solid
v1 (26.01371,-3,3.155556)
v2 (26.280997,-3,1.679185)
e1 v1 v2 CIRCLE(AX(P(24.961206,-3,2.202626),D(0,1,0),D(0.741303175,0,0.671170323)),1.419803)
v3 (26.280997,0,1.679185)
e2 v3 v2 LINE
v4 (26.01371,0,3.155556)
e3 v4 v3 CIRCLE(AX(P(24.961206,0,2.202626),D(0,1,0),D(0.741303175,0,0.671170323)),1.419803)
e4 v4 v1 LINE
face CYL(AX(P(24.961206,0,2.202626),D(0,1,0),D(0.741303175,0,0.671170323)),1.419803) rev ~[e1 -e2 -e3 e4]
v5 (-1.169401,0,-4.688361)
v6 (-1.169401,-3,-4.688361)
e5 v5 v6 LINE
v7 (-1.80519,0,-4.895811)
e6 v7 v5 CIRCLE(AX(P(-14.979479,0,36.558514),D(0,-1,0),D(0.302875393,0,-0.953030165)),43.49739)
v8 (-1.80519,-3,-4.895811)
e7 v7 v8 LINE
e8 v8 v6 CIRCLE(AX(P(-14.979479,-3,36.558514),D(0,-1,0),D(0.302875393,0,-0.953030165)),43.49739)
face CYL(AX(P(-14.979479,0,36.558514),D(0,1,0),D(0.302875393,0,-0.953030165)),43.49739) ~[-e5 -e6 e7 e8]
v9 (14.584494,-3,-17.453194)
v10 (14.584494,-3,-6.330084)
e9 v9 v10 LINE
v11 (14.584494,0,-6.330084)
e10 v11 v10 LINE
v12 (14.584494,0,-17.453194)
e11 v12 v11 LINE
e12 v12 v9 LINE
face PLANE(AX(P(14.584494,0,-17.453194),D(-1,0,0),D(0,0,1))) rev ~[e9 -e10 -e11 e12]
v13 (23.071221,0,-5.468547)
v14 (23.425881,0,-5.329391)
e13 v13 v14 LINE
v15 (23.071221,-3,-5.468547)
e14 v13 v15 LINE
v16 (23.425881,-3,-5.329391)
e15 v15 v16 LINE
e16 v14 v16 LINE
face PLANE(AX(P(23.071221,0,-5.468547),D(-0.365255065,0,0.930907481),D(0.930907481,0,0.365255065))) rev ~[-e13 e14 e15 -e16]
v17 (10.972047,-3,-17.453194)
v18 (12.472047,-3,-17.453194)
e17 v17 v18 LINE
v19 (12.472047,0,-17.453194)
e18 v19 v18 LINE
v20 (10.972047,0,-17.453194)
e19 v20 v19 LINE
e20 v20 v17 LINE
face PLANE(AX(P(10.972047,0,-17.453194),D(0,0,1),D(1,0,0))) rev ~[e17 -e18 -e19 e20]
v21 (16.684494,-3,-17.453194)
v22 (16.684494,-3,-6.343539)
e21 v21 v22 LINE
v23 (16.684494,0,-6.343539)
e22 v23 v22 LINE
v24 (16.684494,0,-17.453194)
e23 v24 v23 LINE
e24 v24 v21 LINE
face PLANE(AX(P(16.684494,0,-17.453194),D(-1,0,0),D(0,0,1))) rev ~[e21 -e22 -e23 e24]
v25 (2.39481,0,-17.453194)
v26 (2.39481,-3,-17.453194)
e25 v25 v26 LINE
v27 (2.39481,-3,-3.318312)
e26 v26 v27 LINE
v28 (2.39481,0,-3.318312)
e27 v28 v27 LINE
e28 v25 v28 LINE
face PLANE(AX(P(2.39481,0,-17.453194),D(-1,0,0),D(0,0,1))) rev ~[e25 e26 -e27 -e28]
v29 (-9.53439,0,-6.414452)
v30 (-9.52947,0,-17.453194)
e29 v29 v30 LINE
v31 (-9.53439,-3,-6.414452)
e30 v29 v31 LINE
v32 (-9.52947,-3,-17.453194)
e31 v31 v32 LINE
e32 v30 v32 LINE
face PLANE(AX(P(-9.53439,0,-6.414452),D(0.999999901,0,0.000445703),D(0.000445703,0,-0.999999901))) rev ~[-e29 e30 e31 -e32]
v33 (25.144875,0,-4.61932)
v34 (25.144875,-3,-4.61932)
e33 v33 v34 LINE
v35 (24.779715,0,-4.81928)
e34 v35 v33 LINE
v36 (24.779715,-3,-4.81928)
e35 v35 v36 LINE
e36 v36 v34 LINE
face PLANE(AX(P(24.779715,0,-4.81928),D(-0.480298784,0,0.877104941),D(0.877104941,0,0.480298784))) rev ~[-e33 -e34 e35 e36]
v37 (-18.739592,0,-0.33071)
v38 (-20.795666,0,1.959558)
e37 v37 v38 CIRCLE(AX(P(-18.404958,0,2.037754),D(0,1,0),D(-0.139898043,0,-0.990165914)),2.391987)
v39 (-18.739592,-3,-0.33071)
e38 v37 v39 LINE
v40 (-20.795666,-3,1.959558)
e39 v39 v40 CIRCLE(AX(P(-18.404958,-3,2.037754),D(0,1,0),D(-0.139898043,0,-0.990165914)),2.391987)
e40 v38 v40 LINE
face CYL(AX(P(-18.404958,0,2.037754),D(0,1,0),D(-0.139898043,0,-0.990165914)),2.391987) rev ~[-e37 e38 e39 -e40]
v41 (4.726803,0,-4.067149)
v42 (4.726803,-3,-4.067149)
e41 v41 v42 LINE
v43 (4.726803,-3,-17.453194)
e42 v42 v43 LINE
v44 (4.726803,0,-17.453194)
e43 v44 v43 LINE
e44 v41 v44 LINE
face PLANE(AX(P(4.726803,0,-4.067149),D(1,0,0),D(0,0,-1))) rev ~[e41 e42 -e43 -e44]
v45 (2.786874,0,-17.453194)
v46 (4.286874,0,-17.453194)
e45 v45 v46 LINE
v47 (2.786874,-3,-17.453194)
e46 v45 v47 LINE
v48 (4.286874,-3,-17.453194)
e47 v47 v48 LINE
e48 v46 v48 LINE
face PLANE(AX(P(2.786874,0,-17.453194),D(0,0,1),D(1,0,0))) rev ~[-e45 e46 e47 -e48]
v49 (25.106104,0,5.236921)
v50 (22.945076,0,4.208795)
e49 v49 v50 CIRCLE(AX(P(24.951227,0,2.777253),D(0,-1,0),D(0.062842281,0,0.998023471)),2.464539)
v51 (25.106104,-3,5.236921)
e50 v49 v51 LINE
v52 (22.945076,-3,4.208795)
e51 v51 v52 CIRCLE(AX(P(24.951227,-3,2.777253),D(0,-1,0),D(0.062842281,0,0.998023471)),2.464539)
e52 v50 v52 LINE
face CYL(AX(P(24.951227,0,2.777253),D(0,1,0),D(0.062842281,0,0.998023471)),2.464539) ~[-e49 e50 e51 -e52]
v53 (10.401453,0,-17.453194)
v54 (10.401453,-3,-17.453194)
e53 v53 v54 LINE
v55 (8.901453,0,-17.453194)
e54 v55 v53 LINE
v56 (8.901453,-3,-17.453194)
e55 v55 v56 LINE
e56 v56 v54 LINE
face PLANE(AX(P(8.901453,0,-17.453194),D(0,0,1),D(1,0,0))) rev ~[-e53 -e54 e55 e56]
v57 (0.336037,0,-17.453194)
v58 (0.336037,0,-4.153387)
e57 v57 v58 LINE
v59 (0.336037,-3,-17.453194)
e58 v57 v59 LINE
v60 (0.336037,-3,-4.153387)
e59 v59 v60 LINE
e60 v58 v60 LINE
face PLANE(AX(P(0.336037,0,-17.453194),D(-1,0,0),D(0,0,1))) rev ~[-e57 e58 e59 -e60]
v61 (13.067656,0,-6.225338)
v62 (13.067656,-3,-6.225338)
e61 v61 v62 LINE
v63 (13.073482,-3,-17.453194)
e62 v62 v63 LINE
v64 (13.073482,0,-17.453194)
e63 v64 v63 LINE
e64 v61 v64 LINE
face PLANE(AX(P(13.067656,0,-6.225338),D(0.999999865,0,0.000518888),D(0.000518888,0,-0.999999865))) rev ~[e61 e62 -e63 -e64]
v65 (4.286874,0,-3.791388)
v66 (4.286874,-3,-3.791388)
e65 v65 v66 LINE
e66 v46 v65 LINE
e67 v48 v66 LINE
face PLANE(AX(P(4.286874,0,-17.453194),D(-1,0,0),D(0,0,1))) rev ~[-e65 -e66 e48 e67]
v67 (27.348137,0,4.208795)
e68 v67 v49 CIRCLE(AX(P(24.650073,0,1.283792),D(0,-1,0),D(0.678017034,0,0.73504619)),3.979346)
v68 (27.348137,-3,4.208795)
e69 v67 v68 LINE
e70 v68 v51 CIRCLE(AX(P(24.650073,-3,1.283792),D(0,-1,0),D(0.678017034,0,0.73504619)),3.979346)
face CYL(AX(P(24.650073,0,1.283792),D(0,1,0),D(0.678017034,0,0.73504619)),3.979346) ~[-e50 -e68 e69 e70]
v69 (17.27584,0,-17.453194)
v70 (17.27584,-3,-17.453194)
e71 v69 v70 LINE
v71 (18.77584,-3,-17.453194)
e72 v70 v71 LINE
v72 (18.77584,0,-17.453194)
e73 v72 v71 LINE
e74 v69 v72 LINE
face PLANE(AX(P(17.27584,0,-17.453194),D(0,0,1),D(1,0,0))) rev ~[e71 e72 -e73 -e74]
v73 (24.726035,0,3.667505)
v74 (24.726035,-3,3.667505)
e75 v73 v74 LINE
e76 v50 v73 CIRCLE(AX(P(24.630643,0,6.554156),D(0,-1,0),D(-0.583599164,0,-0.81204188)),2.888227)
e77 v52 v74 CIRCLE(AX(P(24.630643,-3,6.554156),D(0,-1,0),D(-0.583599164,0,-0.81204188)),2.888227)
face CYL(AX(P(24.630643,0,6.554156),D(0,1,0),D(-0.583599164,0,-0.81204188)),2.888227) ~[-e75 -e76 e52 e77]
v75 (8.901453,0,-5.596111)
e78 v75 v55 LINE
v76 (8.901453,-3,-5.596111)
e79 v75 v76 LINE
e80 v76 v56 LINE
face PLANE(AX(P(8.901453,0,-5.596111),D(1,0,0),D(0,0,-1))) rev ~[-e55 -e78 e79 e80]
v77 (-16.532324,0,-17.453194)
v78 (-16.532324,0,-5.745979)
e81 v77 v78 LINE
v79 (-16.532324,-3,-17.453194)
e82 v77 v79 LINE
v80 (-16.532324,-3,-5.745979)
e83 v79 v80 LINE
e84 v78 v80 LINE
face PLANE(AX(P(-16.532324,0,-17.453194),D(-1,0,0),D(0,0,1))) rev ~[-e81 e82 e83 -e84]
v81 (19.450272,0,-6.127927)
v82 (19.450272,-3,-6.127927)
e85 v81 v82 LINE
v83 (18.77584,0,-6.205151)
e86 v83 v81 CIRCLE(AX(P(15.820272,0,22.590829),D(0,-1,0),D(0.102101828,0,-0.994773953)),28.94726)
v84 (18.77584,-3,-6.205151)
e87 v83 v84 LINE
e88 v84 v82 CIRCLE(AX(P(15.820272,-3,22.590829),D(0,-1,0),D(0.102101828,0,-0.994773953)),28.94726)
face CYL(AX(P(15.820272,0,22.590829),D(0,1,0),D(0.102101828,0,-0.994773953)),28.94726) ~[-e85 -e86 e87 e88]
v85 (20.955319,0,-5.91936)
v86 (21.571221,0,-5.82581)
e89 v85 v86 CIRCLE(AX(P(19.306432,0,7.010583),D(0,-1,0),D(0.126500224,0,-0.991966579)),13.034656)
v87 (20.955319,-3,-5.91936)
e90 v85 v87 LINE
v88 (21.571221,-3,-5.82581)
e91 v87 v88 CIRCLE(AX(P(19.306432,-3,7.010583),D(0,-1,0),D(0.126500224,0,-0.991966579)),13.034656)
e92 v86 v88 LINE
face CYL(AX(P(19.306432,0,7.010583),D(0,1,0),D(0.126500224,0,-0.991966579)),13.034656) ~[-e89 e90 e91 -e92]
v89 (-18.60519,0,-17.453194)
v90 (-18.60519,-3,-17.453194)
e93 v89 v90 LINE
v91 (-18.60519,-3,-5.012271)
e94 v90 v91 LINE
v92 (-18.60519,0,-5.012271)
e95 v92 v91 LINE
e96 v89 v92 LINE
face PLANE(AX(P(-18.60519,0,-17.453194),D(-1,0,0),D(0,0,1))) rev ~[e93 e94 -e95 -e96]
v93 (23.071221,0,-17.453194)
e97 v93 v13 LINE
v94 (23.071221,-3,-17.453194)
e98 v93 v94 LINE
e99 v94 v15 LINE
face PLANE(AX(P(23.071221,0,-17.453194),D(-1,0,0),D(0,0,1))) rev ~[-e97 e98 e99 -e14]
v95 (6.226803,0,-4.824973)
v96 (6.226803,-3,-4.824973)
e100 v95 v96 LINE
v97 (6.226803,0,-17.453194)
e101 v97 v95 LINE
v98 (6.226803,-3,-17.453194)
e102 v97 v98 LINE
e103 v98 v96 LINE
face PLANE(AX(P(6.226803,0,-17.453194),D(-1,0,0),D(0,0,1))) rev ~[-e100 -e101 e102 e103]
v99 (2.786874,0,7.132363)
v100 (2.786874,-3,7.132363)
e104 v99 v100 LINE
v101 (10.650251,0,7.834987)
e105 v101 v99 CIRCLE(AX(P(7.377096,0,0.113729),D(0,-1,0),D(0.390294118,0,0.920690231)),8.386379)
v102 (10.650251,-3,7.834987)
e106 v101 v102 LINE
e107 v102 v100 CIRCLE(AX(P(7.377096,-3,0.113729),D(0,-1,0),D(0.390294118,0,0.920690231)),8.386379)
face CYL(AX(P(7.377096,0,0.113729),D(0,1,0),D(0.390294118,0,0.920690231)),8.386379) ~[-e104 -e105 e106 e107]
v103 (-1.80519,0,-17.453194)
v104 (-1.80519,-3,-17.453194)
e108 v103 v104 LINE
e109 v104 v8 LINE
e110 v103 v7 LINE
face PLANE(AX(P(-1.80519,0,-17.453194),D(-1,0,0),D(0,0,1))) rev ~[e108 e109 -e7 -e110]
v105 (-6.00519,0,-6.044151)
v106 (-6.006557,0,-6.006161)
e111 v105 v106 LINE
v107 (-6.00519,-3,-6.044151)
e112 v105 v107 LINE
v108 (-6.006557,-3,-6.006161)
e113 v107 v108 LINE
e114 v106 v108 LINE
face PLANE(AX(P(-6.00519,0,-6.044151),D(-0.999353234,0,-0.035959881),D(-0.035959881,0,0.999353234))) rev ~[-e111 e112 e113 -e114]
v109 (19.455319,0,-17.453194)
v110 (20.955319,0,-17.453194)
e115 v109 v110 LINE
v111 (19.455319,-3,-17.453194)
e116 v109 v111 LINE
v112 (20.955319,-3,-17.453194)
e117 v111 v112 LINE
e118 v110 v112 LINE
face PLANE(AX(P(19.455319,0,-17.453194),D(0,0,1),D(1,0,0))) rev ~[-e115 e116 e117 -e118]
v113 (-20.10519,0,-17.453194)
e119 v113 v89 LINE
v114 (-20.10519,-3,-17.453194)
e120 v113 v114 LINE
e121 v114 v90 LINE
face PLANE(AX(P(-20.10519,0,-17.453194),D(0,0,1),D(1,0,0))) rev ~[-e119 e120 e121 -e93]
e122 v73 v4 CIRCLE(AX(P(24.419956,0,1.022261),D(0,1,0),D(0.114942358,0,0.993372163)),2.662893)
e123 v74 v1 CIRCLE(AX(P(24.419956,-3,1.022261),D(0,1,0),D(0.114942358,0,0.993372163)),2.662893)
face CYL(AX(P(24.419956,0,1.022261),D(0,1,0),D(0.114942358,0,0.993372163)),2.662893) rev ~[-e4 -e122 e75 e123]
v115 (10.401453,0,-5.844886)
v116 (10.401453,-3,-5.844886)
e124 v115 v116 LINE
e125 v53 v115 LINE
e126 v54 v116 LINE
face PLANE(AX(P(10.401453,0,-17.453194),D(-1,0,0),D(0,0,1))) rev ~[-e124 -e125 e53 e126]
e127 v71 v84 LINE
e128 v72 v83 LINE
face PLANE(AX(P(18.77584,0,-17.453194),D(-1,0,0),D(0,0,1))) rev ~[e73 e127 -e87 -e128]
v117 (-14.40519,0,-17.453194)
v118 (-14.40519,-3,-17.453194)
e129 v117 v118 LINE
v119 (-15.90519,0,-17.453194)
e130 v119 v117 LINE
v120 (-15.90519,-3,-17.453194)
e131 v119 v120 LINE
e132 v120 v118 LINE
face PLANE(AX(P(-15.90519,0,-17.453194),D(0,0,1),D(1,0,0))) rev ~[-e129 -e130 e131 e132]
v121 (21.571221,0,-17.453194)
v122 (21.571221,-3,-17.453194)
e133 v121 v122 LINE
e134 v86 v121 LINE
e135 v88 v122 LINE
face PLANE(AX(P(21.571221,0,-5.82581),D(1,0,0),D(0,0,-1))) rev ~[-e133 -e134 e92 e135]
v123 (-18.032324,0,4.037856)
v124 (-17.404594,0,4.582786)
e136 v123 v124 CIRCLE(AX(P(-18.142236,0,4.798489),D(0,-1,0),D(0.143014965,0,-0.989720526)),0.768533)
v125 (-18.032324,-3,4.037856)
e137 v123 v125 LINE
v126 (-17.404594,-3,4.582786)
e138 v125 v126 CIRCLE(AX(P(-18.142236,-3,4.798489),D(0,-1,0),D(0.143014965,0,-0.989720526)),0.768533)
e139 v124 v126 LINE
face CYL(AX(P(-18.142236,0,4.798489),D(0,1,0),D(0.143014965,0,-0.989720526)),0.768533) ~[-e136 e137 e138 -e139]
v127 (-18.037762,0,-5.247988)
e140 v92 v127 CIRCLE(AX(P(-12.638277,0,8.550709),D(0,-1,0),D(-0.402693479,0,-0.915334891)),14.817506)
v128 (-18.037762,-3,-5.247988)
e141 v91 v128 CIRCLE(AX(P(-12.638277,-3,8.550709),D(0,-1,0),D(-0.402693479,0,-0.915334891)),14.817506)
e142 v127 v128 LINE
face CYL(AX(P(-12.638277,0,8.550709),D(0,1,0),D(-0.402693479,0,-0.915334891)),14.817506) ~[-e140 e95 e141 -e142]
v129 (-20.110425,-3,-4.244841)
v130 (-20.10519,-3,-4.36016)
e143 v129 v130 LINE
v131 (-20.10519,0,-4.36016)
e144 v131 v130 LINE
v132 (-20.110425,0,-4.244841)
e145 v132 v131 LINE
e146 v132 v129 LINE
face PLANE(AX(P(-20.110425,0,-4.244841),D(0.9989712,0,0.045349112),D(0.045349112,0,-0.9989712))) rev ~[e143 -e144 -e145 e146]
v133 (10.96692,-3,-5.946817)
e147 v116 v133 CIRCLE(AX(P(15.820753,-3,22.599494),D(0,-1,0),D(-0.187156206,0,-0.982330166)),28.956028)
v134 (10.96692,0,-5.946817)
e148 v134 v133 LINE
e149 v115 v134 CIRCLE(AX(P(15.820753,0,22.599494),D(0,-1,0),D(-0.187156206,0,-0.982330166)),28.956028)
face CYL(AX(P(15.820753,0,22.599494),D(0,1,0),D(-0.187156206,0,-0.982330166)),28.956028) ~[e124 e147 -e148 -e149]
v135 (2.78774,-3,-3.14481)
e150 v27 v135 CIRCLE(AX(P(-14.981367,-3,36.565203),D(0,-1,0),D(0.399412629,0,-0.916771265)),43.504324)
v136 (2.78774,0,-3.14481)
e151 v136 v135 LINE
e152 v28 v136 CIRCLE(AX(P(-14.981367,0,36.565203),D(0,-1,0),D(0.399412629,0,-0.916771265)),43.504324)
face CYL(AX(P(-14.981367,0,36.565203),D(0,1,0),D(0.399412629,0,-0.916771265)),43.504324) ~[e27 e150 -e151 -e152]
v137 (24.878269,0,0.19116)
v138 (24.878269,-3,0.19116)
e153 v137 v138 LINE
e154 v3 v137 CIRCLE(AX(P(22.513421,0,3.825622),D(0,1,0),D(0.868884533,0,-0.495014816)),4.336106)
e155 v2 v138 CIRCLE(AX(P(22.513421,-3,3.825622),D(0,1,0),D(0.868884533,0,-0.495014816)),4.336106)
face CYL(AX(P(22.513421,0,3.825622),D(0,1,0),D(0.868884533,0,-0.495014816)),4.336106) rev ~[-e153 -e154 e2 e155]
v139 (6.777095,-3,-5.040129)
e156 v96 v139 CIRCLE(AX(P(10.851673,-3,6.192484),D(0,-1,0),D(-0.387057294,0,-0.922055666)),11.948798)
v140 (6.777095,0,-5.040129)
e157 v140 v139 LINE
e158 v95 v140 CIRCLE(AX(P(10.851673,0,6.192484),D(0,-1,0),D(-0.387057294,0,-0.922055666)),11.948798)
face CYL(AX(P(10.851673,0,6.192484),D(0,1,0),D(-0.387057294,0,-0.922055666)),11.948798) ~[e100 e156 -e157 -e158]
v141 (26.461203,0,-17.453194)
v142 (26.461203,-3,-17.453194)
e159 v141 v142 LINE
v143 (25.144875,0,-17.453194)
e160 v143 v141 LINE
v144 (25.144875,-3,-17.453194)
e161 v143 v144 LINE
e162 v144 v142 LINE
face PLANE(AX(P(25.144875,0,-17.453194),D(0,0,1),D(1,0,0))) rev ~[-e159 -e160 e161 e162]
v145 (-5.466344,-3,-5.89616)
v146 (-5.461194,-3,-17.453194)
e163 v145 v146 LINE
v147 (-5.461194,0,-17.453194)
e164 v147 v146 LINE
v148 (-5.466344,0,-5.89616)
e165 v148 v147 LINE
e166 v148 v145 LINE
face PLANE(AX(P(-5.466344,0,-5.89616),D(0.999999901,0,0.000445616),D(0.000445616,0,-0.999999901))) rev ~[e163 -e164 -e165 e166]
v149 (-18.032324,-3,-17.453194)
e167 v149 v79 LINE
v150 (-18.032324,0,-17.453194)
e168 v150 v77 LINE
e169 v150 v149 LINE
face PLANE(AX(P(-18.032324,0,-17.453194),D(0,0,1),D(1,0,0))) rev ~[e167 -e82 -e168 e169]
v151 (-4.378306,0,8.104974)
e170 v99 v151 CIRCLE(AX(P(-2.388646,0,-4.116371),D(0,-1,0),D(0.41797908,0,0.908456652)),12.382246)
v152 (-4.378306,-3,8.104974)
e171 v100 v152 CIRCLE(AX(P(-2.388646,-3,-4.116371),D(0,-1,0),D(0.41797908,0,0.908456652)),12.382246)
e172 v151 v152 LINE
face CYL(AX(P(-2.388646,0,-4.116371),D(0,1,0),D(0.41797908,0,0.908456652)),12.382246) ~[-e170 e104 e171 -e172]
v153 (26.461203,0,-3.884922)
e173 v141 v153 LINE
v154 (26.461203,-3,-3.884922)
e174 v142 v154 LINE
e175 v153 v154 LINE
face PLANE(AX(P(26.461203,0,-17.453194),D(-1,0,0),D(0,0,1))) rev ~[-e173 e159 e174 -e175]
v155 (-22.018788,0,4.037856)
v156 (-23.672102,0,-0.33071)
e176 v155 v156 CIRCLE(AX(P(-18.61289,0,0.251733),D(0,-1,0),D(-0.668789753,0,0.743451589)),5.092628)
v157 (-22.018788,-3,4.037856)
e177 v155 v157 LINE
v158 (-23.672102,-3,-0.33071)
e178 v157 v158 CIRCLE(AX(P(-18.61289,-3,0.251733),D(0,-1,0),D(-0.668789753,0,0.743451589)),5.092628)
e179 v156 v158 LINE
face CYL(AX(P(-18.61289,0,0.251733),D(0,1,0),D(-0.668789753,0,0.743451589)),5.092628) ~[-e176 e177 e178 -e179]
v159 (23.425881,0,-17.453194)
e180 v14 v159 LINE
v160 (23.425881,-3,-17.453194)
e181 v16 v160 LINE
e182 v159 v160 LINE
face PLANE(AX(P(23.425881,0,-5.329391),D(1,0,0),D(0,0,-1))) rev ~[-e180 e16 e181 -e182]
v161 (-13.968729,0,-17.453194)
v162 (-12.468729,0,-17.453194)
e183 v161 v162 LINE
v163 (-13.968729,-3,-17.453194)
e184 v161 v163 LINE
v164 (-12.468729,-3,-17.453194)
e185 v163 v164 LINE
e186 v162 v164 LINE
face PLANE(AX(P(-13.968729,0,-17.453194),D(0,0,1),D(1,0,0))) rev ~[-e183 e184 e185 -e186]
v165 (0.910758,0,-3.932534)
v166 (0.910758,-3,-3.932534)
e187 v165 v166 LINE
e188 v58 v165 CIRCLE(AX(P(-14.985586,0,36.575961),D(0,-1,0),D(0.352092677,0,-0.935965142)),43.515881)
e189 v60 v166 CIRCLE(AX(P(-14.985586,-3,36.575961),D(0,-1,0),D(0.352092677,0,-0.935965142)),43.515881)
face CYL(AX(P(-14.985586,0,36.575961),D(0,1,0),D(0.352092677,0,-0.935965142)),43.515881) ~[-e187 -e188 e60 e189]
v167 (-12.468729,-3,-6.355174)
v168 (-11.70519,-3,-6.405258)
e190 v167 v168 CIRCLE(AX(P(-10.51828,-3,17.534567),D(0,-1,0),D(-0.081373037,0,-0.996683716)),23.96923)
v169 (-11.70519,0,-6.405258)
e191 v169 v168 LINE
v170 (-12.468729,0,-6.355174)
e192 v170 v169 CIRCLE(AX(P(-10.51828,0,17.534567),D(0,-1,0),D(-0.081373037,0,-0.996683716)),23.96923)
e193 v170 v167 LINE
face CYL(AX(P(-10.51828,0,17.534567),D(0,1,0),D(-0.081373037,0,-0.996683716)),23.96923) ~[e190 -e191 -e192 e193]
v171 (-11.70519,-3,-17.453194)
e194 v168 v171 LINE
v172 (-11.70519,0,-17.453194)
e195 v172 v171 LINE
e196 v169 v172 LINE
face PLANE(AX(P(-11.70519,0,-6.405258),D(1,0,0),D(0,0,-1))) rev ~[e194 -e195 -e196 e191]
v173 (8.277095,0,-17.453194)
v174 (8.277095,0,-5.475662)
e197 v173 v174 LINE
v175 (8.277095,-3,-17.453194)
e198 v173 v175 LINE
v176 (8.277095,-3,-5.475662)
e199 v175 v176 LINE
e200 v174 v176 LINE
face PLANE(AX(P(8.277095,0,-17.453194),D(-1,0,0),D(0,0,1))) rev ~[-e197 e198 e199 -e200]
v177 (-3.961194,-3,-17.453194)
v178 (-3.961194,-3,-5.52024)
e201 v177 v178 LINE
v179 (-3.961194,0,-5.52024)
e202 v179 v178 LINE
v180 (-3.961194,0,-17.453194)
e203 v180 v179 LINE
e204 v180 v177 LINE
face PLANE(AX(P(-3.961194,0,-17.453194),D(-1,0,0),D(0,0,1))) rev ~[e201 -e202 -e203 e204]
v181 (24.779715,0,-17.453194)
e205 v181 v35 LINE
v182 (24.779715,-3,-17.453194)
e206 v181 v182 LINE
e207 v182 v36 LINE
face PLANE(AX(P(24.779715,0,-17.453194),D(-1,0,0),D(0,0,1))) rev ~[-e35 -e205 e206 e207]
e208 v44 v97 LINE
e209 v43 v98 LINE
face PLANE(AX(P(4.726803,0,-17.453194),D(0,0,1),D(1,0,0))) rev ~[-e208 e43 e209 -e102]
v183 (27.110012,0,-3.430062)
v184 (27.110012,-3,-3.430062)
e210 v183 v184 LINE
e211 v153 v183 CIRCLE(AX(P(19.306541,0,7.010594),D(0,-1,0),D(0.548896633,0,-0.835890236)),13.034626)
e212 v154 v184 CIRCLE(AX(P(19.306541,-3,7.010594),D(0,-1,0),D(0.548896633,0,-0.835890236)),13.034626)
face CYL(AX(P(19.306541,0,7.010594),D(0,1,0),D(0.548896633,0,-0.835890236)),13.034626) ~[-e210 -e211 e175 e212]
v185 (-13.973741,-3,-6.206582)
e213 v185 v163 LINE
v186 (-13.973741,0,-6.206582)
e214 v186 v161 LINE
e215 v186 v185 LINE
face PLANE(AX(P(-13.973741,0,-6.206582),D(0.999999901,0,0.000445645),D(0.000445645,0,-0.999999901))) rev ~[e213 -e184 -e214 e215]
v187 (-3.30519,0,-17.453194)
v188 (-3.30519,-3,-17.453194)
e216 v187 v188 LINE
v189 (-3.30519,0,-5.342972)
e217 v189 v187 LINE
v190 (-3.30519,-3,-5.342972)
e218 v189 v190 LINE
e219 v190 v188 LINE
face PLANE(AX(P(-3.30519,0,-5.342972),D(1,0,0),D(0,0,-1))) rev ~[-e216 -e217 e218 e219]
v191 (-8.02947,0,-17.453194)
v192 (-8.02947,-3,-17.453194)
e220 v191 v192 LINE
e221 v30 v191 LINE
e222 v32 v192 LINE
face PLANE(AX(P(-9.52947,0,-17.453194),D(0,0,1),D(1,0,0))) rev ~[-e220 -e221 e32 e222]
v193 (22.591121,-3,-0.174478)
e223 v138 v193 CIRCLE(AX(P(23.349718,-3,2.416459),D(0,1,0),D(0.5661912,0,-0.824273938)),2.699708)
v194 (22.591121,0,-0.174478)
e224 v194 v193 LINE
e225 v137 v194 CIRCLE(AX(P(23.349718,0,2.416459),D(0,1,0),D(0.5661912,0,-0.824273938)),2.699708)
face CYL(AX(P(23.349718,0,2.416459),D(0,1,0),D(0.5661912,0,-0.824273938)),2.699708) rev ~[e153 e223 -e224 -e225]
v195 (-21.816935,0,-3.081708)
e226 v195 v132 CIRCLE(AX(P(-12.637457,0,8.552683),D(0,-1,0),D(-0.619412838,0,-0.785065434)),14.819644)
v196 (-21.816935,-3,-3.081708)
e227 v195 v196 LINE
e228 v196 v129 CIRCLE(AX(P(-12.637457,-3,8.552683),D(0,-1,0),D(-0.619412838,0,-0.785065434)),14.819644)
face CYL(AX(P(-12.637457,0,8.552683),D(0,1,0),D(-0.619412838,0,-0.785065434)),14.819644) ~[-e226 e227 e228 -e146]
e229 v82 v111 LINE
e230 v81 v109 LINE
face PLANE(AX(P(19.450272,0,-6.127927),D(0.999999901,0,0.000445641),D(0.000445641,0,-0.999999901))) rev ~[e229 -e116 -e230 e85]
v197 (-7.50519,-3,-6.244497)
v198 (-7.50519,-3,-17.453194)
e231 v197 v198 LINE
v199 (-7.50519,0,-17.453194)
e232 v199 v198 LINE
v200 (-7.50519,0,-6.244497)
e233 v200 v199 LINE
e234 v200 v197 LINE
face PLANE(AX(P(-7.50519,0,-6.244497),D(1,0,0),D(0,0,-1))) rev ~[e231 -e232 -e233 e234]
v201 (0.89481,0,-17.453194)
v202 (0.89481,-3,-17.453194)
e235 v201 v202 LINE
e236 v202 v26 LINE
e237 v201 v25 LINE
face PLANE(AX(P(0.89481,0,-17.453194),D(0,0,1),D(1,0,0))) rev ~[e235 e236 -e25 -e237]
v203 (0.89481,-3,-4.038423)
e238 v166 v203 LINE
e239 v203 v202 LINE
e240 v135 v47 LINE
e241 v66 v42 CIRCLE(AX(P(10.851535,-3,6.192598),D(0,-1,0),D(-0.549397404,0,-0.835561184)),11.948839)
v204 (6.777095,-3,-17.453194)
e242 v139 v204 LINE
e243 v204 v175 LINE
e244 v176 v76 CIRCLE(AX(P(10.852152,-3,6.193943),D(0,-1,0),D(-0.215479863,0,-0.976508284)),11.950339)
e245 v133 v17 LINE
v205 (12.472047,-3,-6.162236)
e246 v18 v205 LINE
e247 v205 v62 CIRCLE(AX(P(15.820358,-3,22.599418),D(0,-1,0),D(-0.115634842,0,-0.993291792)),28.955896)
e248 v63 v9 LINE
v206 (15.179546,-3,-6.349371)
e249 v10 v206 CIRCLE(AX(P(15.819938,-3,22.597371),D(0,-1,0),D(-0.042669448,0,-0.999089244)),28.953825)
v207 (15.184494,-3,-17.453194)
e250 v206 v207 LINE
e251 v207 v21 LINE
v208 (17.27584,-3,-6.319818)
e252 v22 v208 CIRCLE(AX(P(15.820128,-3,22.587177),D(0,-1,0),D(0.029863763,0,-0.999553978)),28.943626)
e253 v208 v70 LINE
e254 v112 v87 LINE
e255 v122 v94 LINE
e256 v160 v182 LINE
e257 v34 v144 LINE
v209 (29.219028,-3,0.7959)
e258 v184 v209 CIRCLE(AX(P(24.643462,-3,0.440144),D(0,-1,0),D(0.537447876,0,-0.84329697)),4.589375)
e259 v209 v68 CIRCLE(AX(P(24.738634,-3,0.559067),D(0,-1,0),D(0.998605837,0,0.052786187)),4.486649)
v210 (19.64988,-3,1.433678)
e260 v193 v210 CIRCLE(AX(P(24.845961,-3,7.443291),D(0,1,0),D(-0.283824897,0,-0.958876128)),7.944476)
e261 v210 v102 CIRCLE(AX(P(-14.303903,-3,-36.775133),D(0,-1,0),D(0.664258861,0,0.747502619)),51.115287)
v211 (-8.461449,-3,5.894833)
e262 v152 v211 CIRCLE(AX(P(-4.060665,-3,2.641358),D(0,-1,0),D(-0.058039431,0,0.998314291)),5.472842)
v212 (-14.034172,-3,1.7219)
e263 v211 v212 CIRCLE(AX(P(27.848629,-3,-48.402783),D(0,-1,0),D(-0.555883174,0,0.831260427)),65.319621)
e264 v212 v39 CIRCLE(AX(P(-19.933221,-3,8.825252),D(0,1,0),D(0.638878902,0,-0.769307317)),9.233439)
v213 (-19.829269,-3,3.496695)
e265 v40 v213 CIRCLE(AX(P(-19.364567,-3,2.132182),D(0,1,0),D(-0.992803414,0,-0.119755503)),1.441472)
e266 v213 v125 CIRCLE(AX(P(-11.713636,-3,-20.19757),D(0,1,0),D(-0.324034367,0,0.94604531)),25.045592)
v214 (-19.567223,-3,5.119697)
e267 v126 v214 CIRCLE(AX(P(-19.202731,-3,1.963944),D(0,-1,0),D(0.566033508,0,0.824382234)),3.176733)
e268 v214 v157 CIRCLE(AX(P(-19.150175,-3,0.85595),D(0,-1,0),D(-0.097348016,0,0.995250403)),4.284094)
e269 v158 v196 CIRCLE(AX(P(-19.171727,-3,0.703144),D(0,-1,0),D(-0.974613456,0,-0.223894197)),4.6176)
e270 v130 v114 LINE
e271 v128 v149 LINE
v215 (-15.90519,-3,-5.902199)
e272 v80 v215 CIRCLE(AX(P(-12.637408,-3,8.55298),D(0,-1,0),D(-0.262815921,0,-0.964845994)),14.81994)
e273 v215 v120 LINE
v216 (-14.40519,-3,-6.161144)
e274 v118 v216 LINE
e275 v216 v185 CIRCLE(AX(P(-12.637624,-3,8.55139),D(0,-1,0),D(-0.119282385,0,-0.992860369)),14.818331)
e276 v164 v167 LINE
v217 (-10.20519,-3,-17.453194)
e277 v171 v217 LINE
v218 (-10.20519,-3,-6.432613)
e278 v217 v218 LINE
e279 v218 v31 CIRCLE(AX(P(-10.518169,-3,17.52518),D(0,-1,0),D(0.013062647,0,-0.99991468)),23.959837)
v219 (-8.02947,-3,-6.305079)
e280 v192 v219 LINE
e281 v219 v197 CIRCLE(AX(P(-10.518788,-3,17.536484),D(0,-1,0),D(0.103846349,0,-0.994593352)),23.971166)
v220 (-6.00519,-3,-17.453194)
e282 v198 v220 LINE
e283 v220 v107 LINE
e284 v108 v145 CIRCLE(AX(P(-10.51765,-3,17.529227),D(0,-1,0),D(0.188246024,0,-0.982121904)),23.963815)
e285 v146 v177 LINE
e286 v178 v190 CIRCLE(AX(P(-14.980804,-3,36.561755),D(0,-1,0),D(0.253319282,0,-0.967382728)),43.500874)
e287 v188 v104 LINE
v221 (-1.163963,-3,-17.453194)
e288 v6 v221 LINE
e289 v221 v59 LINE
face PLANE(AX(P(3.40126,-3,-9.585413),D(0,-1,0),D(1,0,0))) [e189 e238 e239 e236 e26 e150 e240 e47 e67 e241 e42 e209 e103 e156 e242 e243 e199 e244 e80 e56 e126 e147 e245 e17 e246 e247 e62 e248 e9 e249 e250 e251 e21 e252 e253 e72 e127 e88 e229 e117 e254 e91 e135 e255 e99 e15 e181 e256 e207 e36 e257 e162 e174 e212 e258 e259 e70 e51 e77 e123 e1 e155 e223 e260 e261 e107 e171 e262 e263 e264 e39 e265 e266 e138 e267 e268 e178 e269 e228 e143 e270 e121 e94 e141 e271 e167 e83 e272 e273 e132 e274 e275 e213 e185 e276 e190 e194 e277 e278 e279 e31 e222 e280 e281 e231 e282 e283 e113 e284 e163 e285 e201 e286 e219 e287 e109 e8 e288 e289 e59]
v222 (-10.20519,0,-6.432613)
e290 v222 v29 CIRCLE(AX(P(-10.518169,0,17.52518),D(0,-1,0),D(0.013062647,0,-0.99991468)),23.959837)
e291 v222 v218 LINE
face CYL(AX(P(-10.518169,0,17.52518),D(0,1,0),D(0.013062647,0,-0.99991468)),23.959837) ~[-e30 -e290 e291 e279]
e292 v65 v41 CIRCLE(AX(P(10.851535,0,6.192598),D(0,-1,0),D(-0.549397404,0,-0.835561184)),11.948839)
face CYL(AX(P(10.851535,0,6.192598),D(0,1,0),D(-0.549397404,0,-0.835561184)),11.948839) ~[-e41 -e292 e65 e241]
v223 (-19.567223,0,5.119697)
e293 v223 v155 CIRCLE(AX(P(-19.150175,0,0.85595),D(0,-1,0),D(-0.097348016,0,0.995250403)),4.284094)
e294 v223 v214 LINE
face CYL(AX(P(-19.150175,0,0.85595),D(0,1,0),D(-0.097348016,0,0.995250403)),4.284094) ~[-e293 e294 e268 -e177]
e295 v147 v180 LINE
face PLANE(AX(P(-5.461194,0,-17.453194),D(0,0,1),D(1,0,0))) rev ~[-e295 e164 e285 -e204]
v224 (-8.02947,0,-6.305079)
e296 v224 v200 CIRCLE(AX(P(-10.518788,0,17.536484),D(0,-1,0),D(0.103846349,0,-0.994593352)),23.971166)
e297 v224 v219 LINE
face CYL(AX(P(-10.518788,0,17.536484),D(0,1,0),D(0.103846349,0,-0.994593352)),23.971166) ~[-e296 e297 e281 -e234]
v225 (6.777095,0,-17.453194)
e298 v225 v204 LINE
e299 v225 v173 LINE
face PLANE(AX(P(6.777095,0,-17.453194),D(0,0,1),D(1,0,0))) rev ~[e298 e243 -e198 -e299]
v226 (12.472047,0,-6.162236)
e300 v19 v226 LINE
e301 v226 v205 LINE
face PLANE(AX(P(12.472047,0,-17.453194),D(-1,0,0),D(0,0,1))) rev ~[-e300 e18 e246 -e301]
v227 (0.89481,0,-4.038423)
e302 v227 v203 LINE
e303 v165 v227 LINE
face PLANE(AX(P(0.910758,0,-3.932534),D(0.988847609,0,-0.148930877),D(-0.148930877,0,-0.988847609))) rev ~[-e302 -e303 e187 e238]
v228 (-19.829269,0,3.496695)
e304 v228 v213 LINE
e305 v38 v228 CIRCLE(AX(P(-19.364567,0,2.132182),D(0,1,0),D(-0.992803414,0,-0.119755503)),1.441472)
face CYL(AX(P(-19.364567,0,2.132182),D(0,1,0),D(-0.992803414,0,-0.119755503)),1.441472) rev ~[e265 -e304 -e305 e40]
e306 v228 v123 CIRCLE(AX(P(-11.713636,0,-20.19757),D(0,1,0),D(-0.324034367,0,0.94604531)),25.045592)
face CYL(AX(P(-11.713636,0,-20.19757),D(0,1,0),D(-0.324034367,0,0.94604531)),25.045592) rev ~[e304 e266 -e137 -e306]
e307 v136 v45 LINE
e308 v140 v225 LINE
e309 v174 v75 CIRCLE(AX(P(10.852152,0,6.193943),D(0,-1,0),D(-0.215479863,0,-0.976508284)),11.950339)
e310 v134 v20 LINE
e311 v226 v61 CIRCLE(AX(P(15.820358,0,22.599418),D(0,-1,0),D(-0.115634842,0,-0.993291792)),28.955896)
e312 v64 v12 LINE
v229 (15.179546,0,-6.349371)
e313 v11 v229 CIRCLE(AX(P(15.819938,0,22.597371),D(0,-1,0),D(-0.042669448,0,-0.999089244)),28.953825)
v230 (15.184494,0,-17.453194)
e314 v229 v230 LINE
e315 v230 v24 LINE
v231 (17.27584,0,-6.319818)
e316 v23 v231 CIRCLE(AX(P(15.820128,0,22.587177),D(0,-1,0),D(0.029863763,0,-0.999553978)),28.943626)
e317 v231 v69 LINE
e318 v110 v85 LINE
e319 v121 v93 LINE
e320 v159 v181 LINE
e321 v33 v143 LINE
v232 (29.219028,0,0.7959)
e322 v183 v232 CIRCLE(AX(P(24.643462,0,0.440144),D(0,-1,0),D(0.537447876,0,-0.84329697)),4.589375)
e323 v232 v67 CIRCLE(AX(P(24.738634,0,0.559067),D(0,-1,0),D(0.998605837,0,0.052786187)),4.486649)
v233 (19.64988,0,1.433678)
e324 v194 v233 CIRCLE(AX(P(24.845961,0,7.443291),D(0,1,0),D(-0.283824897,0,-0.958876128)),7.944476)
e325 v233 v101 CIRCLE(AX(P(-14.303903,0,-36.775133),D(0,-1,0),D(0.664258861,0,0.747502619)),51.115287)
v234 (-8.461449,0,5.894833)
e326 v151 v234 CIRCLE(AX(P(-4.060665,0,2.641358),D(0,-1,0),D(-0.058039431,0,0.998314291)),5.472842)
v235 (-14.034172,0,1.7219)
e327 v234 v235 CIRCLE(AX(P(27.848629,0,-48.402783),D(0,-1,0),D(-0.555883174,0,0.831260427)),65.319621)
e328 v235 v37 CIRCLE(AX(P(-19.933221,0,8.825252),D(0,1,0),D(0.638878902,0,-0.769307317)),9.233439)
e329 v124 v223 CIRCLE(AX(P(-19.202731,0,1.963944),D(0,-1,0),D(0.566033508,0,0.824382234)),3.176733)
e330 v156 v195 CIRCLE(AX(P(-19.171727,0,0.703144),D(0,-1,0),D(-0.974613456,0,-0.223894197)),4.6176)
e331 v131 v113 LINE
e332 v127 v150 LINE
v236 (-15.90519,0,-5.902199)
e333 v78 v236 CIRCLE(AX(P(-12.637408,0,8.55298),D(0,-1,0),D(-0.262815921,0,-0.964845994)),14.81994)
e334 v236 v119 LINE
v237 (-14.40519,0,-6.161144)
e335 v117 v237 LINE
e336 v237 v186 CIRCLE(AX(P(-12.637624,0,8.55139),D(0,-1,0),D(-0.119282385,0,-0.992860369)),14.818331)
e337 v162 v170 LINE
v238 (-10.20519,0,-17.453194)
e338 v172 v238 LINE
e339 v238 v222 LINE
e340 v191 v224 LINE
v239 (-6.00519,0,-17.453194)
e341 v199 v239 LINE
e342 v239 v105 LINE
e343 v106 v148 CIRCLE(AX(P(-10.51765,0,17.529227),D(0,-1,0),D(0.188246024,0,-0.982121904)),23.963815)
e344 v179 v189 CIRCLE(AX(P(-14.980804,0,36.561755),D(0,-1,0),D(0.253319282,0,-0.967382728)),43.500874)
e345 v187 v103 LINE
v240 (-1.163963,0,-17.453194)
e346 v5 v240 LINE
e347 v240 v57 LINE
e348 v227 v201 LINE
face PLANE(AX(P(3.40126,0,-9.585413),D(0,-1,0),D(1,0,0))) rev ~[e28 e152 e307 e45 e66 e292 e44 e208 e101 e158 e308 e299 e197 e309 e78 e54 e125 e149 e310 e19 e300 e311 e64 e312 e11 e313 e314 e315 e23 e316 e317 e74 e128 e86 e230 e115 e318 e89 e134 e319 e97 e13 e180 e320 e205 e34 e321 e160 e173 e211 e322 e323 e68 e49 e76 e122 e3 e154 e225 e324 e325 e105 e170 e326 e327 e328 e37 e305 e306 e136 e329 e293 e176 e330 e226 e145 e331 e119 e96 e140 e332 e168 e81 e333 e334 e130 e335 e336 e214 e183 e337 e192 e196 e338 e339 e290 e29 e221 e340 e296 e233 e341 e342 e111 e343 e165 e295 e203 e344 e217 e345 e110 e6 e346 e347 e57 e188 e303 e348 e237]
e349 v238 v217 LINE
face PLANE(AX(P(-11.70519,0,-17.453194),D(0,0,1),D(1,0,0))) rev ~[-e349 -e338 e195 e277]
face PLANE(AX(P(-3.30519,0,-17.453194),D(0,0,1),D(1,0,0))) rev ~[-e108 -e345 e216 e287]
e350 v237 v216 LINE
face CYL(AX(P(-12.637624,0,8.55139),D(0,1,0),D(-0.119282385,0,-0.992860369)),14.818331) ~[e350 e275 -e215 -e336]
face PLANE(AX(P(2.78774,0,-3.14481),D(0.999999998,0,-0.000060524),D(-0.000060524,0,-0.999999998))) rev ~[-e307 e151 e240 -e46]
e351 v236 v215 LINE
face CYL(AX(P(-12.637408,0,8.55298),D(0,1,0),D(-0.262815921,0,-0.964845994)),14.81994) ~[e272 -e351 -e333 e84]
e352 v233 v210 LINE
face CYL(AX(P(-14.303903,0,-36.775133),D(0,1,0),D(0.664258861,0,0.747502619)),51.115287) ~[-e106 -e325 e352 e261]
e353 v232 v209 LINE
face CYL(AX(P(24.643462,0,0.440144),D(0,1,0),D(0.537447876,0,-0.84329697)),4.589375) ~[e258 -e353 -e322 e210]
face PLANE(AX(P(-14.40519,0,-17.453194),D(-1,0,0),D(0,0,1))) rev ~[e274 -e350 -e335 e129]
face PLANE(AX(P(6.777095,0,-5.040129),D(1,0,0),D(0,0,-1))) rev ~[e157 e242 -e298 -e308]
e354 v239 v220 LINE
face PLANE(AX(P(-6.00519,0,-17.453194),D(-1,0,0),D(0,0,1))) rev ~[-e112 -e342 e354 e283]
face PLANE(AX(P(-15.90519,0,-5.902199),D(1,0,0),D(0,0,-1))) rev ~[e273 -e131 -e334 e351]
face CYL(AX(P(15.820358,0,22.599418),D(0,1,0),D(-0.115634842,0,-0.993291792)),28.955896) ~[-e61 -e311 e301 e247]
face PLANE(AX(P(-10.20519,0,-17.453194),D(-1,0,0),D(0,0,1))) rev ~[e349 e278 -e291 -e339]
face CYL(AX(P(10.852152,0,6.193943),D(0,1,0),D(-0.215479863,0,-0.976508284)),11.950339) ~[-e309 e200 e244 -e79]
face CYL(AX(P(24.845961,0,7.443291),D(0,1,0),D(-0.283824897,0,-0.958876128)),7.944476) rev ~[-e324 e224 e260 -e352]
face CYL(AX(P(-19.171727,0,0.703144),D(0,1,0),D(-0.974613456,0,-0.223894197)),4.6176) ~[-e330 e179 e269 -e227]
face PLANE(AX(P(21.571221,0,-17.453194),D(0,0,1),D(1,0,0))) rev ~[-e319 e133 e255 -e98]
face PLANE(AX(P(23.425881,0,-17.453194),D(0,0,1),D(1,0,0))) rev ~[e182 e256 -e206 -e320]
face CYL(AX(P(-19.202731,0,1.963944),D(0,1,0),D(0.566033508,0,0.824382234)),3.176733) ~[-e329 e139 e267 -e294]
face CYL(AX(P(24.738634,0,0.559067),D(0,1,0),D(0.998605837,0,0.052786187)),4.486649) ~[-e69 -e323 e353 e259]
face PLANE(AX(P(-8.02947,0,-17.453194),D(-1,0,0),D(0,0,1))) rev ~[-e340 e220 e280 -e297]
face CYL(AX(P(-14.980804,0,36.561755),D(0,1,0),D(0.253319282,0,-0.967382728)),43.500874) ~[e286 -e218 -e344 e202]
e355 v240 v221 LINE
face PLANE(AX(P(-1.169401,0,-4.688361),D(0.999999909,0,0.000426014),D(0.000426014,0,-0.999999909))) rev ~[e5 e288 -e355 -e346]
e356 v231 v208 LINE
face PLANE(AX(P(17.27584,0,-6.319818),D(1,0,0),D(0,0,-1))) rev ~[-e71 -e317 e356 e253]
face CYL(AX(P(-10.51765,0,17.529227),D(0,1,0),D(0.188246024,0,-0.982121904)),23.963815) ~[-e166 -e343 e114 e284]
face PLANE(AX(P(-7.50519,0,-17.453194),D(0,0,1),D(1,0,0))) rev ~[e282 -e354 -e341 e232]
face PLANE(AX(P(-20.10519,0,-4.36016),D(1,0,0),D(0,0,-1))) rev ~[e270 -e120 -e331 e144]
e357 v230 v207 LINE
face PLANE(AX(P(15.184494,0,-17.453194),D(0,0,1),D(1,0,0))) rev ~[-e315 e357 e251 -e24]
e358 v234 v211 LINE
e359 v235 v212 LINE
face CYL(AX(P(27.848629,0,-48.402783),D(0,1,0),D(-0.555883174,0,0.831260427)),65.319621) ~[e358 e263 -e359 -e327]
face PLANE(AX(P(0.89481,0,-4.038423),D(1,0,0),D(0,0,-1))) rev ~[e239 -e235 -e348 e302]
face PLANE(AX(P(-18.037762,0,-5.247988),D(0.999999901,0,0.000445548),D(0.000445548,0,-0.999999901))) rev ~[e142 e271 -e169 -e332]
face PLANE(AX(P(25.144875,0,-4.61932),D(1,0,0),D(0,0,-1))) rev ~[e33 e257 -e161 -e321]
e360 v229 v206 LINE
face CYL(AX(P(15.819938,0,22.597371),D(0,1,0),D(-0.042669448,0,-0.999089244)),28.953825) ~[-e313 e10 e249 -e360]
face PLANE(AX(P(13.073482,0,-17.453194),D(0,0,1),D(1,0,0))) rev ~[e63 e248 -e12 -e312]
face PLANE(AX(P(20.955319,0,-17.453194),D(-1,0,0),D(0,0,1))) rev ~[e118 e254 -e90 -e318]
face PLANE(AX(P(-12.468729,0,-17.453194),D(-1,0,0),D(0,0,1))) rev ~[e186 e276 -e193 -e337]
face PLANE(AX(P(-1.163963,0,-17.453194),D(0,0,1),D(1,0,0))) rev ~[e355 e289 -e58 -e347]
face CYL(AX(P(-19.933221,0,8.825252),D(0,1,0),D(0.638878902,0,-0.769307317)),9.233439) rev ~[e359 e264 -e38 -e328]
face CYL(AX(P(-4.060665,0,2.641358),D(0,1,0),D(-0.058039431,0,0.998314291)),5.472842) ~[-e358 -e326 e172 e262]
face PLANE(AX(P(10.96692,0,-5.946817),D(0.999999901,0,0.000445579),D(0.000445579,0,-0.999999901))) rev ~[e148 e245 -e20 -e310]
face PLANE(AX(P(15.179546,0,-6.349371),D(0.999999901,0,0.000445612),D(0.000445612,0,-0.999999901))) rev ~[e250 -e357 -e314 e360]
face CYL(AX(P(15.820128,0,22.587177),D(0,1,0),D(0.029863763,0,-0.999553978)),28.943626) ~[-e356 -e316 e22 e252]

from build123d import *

# Parameters (mm, degrees)
F1_DEPTH = 3


with BuildPart() as f1:
    # F0 (on Front) → F1 (new body)
    with BuildSketch(Plane.XZ):
        with BuildLine():
            ThreePointArc((19.64988, 1.433678), (15.323457, 4.878104), (10.650251, 7.834987))
            ThreePointArc((10.650251, 7.834987), (6.630714, 8.466829), (2.786874, 7.132363))
            ThreePointArc((2.786874, 7.132363), (-0.723137, 8.153352), (-4.378306, 8.104974))
            ThreePointArc((-4.378306, 8.104974), (-6.665865, 7.454354), (-8.461449, 5.894833))
            ThreePointArc((-8.461449, 5.894833), (-11.303445, 3.882664), (-14.034172, 1.7219))
            ThreePointArc((-14.034172, 1.7219), (-16.241362, 0.362004), (-18.739592, -0.33071))
            ThreePointArc((-18.739592, -0.33071), (-20.184903, 0.439819), (-20.795666, 1.959558))
            ThreePointArc((-20.795666, 1.959558), (-20.5849, 2.899405), (-19.829269, 3.496695))
            ThreePointArc((-19.829269, 3.496695), (-18.935867, 3.784112), (-18.032324, 4.037856))
            ThreePointArc((-18.032324, 4.037856), (-17.638426, 4.218128), (-17.404594, 4.582786))
            ThreePointArc((-17.404594, 4.582786), (-18.437288, 5.04708), (-19.567223, 5.119697))
            ThreePointArc((-19.567223, 5.119697), (-20.879767, 4.775386), (-22.018788, 4.037856))
            ThreePointArc((-22.018788, 4.037856), (-23.375832, 2.054301), (-23.672102, -0.33071))
            ThreePointArc((-23.672102, -0.33071), (-23.000152, -1.878598), (-21.816935, -3.081708))
            ThreePointArc((-21.816935, -3.081708), (-20.983966, -3.693037), (-20.110425, -4.244841))
            Line((-20.110425, -4.244841), (-20.10519, -4.36016))
            Line((-20.10519, -4.36016), (-20.10519, -17.453194))
            Line((-20.10519, -17.453194), (-18.60519, -17.453194))
            Line((-18.60519, -17.453194), (-18.60519, -5.012271))
            ThreePointArc((-18.60519, -5.012271), (-18.322698, -5.133071), (-18.037762, -5.247988))
            Line((-18.037762, -5.247988), (-18.032324, -17.453194))
            Line((-18.032324, -17.453194), (-16.532324, -17.453194))
            Line((-16.532324, -17.453194), (-16.532324, -5.745979))
            ThreePointArc((-16.532324, -5.745979), (-16.219609, -5.827508), (-15.90519, -5.902199))
            Line((-15.90519, -5.902199), (-15.90519, -17.453194))
            Line((-15.90519, -17.453194), (-14.40519, -17.453194))
            Line((-14.40519, -17.453194), (-14.40519, -6.161144))
            ThreePointArc((-14.40519, -6.161144), (-14.189632, -6.185442), (-13.973741, -6.206582))
            Line((-13.973741, -6.206582), (-13.968729, -17.453194))
            Line((-13.968729, -17.453194), (-12.468729, -17.453194))
            Line((-12.468729, -17.453194), (-12.468729, -6.355174))
            ThreePointArc((-12.468729, -6.355174), (-12.08716, -6.383263), (-11.70519, -6.405258))
            Line((-11.70519, -6.405258), (-11.70519, -17.453194))
            Line((-11.70519, -17.453194), (-10.20519, -17.453194))
            Line((-10.20519, -17.453194), (-10.20519, -6.432613))
            ThreePointArc((-10.20519, -6.432613), (-9.869726, -6.425881), (-9.53439, -6.414452))
            Line((-9.53439, -6.414452), (-9.52947, -17.453194))
            Line((-9.52947, -17.453194), (-8.02947, -17.453194))
            Line((-8.02947, -17.453194), (-8.02947, -6.305079))
            ThreePointArc((-8.02947, -6.305079), (-7.767164, -6.276231), (-7.50519, -6.244497))
            Line((-7.50519, -6.244497), (-7.50519, -17.453194))
            Line((-7.50519, -17.453194), (-6.00519, -17.453194))
            Line((-6.00519, -17.453194), (-6.00519, -6.044151))
            Line((-6.00519, -6.044151), (-6.006557, -6.006161))
            ThreePointArc((-6.006557, -6.006161), (-5.736134, -5.952714), (-5.466344, -5.89616))
            Line((-5.466344, -5.89616), (-5.461194, -17.453194))
            Line((-5.461194, -17.453194), (-3.961194, -17.453194))
            Line((-3.961194, -17.453194), (-3.961194, -5.52024))
            ThreePointArc((-3.961194, -5.52024), (-3.632846, -5.432887), (-3.30519, -5.342972))
            Line((-3.30519, -5.342972), (-3.30519, -17.453194))
            Line((-3.30519, -17.453194), (-1.80519, -17.453194))
            Line((-1.80519, -17.453194), (-1.80519, -4.895811))
            ThreePointArc((-1.80519, -4.895811), (-1.486897, -4.793308), (-1.169401, -4.688361))
            Line((-1.169401, -4.688361), (-1.163963, -17.453194))
            Line((-1.163963, -17.453194), (0.336037, -17.453194))
            Line((0.336037, -17.453194), (0.336037, -4.153387))
            ThreePointArc((0.336037, -4.153387), (0.623788, -4.043977), (0.910758, -3.932534))
            Line((0.910758, -3.932534), (0.89481, -4.038423))
            Line((0.89481, -4.038423), (0.89481, -17.453194))
            Line((0.89481, -17.453194), (2.39481, -17.453194))
            Line((2.39481, -17.453194), (2.39481, -3.318312))
            ThreePointArc((2.39481, -3.318312), (2.591489, -3.232046), (2.78774, -3.14481))
            Line((2.78774, -3.14481), (2.786874, -17.453194))
            Line((2.786874, -17.453194), (4.286874, -17.453194))
            Line((4.286874, -17.453194), (4.286874, -3.791388))
            ThreePointArc((4.286874, -3.791388), (4.50534, -3.931658), (4.726803, -4.067149))
            Line((4.726803, -4.067149), (4.726803, -17.453194))
            Line((4.726803, -17.453194), (6.226803, -17.453194))
            Line((6.226803, -17.453194), (6.226803, -4.824973))
            ThreePointArc((6.226803, -4.824973), (6.500619, -4.935953), (6.777095, -5.040129))
            Line((6.777095, -5.040129), (6.777095, -17.453194))
            Line((6.777095, -17.453194), (8.277095, -17.453194))
            Line((8.277095, -17.453194), (8.277095, -5.475662))
            ThreePointArc((8.277095, -5.475662), (8.588473, -5.54004), (8.901453, -5.596111))
            Line((8.901453, -5.596111), (8.901453, -17.453194))
            Line((8.901453, -17.453194), (10.401453, -17.453194))
            Line((10.401453, -17.453194), (10.401453, -5.844886))
            ThreePointArc((10.401453, -5.844886), (10.683933, -5.897254), (10.96692, -5.946817))
            Line((10.96692, -5.946817), (10.972047, -17.453194))
            Line((10.972047, -17.453194), (12.472047, -17.453194))
            Line((12.472047, -17.453194), (12.472047, -6.162236))
            ThreePointArc((12.472047, -6.162236), (12.769688, -6.195327), (13.067656, -6.225338))
            Line((13.067656, -6.225338), (13.073482, -17.453194))
            Line((13.073482, -17.453194), (14.584494, -17.453194))
            Line((14.584494, -17.453194), (14.584494, -6.330084))
            ThreePointArc((14.584494, -6.330084), (14.88197, -6.341257), (15.179546, -6.349371))
            Line((15.179546, -6.349371), (15.184494, -17.453194))
            Line((15.184494, -17.453194), (16.684494, -17.453194))
            Line((16.684494, -17.453194), (16.684494, -6.343539))
            ThreePointArc((16.684494, -6.343539), (16.980227, -6.33319), (17.27584, -6.319818))
            Line((17.27584, -6.319818), (17.27584, -6.356424))
            Line((17.27584, -6.356424), (17.27584, -17.453194))
            Line((17.27584, -17.453194), (18.77584, -17.453194))
            Line((18.77584, -17.453194), (18.77584, -6.205151))
            ThreePointArc((18.77584, -6.205151), (19.113283, -6.168516), (19.450272, -6.127927))
            Line((19.450272, -6.127927), (19.455319, -17.453194))
            Line((19.455319, -17.453194), (20.955319, -17.453194))
            Line((20.955319, -17.453194), (20.955319, -5.91936))
            ThreePointArc((20.955319, -5.91936), (21.263829, -5.876265), (21.571221, -5.82581))
            Line((21.571221, -5.82581), (21.571221, -17.453194))
            Line((21.571221, -17.453194), (23.071221, -17.453194))
            Line((23.071221, -17.453194), (23.071221, -5.468547))
            Line((23.071221, -5.468547), (23.425881, -5.329391))
            Line((23.425881, -5.329391), (23.425881, -17.453194))
            Line((23.425881, -17.453194), (24.779715, -17.453194))
            Line((24.779715, -17.453194), (24.779715, -4.81928))
            Line((24.779715, -4.81928), (25.144875, -4.61932))
            Line((25.144875, -4.61932), (25.144875, -17.453194))
            Line((25.144875, -17.453194), (26.461203, -17.453194))
            Line((26.461203, -17.453194), (26.461203, -4.36016))
            Line((26.461203, -4.36016), (26.461203, -3.884922))
            ThreePointArc((26.461203, -3.884922), (26.789065, -3.662423), (27.110012, -3.430062))
            ThreePointArc((27.110012, -3.430062), (28.749864, -1.609204), (29.219028, 0.7959))
            ThreePointArc((29.219028, 0.7959), (28.672922, 2.715777), (27.348137, 4.208795))
            ThreePointArc((27.348137, 4.208795), (26.308789, 4.900953), (25.106104, 5.236921))
            ThreePointArc((25.106104, 5.236921), (23.892424, 5.002762), (22.945076, 4.208795))
            ThreePointArc((22.945076, 4.208795), (23.790754, 3.790745), (24.726035, 3.667505))
            ThreePointArc((24.726035, 3.667505), (25.403757, 3.496758), (26.01371, 3.155556))
            ThreePointArc((26.01371, 3.155556), (26.358297, 2.455561), (26.280997, 1.679185))
            ThreePointArc((26.280997, 1.679185), (25.668609, 0.851297), (24.878269, 0.19116))
            ThreePointArc((24.878269, 0.19116), (23.775899, -0.249398), (22.591121, -0.174478))
            ThreePointArc((22.591121, -0.174478), (21.034715, 0.472702), (19.64988, 1.433678))
        make_face()
    extrude(amount=F1_DEPTH)


solid = f1.part
